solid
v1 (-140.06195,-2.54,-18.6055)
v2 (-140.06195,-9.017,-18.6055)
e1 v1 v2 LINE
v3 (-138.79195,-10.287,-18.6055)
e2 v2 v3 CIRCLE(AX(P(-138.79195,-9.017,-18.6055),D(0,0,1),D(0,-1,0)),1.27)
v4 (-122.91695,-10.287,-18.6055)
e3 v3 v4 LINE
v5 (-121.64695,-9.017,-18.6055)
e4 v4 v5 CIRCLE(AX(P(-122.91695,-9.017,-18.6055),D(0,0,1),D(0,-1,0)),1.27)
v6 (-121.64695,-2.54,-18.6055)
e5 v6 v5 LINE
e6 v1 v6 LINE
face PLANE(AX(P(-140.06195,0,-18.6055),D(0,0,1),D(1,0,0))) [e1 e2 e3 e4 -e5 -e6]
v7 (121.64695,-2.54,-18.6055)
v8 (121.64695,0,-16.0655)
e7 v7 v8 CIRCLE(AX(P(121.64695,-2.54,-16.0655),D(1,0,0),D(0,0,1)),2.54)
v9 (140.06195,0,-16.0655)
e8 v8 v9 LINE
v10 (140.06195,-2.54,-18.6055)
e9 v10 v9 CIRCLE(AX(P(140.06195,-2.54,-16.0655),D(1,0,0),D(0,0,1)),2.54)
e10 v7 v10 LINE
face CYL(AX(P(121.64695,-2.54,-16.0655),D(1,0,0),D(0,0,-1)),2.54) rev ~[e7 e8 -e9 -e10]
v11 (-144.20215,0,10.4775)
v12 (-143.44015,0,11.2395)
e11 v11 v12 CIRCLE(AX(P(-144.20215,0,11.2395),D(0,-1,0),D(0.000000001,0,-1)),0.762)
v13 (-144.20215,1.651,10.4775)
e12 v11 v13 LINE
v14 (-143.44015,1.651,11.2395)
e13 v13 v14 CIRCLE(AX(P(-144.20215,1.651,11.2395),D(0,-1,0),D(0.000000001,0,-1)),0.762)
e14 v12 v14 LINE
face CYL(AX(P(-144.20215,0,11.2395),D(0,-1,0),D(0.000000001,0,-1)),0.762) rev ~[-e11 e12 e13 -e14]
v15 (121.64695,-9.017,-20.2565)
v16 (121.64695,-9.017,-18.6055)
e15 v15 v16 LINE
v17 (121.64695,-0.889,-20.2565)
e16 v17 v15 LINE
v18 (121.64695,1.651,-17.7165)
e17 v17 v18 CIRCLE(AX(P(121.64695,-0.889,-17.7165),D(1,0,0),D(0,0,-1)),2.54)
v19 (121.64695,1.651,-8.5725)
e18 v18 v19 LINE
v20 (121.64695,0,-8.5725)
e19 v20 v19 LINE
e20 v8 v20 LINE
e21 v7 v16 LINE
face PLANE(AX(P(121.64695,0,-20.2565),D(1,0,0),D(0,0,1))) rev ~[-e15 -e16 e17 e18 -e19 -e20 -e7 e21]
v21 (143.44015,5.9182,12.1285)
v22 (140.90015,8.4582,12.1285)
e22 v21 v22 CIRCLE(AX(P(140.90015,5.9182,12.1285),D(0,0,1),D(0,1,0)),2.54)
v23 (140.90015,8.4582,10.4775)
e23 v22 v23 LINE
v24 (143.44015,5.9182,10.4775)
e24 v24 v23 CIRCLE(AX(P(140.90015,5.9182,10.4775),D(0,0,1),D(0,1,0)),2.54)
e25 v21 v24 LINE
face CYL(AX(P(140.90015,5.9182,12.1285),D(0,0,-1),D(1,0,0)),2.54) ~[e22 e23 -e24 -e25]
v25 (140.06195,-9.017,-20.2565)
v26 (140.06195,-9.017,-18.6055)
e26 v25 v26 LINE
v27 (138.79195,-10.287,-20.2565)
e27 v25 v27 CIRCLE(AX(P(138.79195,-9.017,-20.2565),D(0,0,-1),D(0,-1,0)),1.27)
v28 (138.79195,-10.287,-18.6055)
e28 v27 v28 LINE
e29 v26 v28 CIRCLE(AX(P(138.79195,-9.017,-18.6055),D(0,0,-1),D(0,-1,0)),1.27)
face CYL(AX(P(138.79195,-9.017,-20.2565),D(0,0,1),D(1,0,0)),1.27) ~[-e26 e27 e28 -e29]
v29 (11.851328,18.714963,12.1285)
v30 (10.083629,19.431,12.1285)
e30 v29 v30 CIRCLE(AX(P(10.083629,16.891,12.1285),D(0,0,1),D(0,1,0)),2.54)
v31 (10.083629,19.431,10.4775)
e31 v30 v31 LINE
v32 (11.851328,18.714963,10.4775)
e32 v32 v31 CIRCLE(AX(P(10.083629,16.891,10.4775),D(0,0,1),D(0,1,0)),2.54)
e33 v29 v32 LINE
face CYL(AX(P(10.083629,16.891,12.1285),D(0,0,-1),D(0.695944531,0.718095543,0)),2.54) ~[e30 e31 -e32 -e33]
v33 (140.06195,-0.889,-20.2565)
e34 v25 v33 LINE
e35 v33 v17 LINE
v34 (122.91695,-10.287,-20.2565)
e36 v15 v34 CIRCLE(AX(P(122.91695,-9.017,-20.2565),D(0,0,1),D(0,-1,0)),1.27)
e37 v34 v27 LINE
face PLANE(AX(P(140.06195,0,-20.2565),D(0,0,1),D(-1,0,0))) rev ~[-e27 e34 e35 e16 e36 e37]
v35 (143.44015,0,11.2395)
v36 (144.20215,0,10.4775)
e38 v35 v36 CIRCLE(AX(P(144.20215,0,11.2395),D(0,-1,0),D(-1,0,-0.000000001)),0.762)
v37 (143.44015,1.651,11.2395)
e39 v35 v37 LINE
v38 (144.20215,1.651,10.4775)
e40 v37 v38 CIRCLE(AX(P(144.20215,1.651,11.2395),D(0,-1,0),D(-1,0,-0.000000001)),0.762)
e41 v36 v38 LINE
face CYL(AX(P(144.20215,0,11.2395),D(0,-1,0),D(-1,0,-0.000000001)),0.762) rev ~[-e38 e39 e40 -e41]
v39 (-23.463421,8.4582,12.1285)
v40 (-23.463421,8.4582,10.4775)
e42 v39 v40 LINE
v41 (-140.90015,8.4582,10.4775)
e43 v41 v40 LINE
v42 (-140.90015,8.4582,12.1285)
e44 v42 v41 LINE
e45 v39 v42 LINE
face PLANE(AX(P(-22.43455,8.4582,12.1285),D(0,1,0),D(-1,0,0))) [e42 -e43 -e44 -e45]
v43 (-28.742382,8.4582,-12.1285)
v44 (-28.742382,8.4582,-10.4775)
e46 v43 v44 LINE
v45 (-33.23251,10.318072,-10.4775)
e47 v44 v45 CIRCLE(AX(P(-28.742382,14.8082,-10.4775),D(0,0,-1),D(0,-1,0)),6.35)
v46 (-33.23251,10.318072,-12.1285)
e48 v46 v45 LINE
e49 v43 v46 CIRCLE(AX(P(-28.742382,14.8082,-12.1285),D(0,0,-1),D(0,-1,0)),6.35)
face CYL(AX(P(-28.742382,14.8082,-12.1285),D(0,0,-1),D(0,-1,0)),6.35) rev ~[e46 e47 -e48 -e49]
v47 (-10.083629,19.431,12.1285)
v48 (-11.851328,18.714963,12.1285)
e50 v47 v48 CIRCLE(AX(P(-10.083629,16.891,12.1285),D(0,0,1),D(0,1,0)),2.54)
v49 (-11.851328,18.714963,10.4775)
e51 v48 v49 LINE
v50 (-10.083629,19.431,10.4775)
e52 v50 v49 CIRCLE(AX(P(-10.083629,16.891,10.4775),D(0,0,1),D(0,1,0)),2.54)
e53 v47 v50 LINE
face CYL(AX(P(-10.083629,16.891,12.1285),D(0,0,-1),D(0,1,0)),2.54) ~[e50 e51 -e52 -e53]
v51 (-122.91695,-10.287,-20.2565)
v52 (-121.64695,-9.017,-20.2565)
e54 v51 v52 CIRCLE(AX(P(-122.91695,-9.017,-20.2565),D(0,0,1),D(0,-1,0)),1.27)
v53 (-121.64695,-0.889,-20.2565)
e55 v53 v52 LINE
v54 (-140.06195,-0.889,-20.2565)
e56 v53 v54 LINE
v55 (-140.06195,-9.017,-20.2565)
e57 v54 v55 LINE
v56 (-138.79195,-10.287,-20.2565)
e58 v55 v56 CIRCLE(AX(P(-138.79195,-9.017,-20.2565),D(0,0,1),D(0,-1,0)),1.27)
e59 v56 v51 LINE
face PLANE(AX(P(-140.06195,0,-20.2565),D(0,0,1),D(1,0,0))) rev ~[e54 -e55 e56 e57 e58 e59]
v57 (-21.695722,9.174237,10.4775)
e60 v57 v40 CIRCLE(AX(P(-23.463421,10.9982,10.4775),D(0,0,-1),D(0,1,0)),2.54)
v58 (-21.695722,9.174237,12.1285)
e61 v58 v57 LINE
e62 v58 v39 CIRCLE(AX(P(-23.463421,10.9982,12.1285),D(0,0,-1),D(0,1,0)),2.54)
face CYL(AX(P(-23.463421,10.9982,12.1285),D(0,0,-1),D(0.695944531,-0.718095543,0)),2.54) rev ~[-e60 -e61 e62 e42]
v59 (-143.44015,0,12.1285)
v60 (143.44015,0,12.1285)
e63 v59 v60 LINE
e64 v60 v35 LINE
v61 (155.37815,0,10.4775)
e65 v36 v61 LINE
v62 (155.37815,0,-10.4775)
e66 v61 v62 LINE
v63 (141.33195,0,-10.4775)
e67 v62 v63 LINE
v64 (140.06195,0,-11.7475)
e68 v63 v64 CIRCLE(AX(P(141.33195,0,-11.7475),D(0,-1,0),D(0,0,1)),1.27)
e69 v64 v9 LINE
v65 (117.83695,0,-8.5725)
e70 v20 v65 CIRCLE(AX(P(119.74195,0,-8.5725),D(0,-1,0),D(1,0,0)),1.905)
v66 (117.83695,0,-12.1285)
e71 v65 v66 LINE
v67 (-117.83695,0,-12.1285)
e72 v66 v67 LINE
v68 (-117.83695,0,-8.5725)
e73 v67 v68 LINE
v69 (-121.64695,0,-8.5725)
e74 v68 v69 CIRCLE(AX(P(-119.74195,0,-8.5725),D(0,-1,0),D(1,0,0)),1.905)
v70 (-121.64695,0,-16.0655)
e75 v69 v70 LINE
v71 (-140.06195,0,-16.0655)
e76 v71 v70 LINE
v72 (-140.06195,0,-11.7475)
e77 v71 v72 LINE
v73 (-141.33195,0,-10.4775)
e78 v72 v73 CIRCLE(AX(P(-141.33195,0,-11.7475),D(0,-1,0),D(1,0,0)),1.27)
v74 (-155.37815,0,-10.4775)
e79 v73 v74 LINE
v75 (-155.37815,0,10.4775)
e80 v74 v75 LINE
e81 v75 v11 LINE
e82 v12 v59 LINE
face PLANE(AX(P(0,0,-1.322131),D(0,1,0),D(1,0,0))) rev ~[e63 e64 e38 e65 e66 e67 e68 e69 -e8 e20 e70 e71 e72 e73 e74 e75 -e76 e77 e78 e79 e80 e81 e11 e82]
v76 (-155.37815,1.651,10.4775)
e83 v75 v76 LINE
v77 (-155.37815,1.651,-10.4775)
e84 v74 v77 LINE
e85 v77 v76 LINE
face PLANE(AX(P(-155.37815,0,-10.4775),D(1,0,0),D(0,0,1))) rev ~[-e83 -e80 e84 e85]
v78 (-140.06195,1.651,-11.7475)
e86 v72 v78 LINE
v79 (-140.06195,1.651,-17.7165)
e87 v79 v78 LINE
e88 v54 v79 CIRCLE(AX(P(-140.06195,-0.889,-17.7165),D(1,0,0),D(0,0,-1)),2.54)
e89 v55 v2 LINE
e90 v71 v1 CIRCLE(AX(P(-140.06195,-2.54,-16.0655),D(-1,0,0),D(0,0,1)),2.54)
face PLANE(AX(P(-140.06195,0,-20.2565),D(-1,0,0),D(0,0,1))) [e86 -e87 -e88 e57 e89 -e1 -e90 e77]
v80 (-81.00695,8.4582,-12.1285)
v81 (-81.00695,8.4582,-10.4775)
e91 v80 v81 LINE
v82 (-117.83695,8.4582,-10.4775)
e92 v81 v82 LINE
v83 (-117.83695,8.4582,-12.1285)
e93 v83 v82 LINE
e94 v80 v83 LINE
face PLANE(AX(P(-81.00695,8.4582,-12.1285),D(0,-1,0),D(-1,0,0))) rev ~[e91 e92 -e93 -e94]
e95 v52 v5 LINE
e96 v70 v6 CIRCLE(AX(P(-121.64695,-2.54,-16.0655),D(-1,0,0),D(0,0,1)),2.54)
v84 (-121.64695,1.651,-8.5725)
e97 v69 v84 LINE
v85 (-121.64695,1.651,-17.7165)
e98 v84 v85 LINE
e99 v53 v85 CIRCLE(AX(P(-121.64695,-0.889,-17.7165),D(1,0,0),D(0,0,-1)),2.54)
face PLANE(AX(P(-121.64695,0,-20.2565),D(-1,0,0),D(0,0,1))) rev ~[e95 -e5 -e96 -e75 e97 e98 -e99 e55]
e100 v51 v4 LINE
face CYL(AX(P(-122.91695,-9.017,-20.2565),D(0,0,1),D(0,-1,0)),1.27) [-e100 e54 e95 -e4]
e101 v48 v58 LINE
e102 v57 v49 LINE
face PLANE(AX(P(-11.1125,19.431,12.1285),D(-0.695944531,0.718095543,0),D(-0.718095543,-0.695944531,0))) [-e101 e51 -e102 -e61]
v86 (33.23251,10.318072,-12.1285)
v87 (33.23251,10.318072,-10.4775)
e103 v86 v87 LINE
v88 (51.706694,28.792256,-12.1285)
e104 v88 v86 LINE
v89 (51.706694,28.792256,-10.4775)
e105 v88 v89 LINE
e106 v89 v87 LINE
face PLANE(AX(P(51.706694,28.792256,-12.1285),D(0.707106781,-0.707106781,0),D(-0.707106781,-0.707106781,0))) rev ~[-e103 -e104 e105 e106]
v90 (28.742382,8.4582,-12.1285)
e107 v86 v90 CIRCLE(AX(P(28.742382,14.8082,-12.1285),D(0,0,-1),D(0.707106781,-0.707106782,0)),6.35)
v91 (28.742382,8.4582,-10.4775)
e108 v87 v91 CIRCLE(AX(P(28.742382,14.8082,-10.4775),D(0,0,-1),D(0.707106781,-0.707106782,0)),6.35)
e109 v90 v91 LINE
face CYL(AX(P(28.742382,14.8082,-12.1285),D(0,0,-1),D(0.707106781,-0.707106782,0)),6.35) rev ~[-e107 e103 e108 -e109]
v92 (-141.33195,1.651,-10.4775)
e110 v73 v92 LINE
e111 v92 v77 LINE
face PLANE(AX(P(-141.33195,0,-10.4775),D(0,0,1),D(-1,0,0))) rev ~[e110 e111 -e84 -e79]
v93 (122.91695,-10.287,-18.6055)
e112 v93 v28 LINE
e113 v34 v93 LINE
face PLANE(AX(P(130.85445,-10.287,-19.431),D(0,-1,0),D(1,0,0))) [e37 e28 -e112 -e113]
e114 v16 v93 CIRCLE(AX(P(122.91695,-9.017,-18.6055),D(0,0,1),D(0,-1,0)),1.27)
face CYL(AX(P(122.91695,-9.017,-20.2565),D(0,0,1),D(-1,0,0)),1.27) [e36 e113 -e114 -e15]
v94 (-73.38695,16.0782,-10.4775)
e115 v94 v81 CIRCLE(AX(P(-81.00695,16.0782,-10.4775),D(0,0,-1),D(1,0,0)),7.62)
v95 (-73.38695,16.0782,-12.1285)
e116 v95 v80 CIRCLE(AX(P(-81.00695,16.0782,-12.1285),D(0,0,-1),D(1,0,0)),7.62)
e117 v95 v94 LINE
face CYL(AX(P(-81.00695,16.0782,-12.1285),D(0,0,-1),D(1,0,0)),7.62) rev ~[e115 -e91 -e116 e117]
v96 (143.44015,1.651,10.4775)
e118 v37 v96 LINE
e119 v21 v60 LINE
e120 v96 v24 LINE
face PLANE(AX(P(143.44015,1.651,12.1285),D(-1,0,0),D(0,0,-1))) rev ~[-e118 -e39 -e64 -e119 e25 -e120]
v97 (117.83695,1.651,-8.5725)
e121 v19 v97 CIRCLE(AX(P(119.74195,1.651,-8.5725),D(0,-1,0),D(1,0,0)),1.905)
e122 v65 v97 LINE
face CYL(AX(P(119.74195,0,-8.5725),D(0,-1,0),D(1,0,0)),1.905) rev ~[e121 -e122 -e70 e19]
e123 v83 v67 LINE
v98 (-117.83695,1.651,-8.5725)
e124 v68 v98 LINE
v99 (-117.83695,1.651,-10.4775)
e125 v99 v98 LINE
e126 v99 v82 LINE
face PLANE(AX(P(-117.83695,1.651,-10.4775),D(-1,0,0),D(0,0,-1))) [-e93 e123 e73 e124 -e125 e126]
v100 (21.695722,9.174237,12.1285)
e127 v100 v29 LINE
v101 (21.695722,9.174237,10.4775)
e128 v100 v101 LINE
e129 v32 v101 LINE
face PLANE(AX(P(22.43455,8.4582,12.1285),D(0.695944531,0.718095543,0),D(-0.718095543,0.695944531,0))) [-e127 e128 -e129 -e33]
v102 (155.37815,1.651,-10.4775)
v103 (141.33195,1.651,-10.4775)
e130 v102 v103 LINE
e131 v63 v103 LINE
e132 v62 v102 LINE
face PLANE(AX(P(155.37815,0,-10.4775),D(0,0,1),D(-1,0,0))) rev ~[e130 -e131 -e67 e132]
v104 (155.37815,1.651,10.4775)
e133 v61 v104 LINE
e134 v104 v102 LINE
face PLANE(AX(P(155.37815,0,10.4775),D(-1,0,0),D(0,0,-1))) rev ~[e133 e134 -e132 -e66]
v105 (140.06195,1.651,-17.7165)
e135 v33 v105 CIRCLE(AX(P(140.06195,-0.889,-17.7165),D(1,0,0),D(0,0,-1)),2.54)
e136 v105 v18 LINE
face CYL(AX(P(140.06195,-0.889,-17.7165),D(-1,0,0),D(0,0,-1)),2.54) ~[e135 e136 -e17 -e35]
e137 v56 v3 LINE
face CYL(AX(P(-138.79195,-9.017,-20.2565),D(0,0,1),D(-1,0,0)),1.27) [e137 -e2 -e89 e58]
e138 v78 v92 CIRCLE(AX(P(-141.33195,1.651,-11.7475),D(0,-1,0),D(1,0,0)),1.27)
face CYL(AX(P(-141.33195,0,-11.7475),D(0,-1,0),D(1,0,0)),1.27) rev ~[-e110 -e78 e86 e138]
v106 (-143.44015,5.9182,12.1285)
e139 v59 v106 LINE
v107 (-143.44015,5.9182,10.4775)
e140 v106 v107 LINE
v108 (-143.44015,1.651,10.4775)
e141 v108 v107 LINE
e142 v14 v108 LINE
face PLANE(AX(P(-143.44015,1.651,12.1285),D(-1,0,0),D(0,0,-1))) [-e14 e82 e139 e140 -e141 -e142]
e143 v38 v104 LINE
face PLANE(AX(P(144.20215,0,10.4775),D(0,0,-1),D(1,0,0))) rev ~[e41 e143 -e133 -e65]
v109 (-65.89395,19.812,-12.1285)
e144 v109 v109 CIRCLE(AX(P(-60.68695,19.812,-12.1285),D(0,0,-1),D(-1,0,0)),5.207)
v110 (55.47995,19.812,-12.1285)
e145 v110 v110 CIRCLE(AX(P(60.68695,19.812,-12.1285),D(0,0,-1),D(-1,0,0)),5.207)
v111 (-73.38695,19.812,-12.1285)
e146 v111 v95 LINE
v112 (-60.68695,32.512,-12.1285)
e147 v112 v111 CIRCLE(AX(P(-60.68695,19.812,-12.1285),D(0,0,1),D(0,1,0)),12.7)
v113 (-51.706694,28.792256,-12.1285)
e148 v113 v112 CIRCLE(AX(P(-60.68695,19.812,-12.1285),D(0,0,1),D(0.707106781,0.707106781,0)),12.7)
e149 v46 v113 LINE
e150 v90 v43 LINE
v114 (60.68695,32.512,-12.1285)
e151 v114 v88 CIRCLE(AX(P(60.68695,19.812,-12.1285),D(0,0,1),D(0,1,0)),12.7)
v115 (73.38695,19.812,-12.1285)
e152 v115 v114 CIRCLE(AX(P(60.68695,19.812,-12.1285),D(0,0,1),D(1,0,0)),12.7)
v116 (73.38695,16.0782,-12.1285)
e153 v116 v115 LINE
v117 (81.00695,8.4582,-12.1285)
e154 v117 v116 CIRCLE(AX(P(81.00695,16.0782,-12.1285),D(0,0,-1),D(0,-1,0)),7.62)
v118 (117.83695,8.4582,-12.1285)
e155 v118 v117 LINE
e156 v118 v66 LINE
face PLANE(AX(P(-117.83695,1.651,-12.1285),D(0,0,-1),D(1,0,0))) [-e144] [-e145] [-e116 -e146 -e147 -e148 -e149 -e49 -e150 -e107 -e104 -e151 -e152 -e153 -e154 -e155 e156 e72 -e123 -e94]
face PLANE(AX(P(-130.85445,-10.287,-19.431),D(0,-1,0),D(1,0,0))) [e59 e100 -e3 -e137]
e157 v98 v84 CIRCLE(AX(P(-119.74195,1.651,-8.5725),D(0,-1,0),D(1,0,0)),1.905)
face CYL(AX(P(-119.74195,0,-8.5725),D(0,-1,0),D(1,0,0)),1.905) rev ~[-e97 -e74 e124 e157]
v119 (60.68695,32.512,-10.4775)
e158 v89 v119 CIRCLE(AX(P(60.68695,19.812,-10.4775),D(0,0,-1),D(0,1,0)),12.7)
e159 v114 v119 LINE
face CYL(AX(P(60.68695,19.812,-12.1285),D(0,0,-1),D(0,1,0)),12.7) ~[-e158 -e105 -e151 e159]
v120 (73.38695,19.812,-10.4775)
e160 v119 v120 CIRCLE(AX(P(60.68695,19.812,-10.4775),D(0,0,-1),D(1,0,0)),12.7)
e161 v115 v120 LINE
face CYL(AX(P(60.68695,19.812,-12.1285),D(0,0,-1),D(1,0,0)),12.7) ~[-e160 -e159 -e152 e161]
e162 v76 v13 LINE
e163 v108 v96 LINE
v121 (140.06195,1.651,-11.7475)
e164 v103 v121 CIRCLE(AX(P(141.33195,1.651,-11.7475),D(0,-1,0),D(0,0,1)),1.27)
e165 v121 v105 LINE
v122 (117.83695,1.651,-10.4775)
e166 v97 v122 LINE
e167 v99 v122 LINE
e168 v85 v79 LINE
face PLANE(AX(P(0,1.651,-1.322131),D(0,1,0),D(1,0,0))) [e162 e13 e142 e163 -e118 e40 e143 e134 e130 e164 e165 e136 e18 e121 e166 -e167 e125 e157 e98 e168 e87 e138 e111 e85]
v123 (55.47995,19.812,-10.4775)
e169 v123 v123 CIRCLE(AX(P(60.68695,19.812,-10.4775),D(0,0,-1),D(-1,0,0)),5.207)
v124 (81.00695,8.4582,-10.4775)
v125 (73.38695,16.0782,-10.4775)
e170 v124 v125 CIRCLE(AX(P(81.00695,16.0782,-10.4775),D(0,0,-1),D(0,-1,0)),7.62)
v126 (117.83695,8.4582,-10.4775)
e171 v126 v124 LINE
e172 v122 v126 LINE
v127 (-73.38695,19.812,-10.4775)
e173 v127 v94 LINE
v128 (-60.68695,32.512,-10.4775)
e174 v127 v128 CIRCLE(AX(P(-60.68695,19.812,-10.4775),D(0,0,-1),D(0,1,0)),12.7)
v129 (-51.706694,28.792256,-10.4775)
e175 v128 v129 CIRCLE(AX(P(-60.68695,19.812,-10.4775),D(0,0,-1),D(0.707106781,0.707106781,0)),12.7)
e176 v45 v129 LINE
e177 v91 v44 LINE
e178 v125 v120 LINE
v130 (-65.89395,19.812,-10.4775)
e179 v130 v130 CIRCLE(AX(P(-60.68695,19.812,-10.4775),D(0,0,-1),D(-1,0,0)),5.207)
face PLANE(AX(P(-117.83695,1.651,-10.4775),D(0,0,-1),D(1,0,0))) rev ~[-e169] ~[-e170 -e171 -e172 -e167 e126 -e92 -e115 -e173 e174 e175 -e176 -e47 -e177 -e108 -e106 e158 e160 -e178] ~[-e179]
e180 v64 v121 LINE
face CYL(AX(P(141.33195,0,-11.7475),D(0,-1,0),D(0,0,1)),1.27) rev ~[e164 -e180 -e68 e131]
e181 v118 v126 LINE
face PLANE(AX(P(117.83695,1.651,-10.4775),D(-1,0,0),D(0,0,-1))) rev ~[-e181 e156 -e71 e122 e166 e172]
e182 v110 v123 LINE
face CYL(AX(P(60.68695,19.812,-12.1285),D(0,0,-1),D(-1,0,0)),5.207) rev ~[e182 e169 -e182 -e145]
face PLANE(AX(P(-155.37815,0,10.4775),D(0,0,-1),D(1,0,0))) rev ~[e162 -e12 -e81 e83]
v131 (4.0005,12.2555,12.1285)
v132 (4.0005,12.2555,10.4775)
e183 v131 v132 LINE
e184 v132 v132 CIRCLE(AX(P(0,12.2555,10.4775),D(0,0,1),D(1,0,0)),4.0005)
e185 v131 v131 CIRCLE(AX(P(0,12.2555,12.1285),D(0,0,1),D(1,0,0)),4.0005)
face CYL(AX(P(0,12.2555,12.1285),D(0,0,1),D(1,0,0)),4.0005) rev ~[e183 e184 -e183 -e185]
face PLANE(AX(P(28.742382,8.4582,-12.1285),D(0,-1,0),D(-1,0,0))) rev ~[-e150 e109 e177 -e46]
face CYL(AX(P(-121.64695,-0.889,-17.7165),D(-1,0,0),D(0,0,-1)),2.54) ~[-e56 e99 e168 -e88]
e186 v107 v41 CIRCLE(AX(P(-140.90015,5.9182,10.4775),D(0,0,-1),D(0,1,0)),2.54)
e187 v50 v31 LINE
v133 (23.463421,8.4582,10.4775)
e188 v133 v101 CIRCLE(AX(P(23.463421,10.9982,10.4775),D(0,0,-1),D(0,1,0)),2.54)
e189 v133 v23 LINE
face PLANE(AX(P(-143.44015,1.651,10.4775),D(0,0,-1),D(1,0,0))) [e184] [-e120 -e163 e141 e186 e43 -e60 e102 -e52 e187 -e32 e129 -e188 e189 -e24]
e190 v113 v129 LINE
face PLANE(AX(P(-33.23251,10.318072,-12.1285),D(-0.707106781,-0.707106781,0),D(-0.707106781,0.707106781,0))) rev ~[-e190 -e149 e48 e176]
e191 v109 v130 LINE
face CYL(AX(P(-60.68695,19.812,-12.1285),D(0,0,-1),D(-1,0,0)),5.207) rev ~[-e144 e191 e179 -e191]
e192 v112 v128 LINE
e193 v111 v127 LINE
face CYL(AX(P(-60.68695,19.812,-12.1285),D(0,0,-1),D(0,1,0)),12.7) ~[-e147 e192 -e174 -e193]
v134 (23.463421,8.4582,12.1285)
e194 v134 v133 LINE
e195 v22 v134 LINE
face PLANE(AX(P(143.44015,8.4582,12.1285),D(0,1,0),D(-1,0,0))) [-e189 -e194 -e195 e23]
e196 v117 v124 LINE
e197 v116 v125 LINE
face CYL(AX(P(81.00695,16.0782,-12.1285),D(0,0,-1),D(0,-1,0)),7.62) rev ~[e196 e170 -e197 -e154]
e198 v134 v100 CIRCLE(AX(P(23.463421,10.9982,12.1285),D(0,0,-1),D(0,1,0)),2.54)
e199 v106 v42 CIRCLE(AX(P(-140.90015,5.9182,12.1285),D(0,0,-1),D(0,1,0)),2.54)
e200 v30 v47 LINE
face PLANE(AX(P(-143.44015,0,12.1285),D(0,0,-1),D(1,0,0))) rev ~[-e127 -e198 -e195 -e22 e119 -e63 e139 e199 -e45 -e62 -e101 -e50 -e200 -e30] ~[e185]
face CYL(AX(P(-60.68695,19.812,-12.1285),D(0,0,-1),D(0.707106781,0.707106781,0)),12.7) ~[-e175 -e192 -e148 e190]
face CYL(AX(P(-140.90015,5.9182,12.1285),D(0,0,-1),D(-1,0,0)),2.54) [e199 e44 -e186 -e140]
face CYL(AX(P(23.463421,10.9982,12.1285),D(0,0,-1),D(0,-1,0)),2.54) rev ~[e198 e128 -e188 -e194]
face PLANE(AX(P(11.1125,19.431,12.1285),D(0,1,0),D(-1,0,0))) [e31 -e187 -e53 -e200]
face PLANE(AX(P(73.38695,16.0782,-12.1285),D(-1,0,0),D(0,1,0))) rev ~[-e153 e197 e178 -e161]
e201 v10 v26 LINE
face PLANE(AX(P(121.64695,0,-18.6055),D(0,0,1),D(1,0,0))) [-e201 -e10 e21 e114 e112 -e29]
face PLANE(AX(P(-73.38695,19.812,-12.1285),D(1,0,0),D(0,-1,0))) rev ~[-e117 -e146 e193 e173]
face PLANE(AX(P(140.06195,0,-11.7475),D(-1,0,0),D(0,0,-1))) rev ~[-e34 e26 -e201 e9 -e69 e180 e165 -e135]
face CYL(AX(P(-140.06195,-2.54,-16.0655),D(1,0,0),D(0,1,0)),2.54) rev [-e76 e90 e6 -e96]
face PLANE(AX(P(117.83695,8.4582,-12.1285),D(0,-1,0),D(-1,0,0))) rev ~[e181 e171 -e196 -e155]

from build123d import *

# Parameters (mm, degrees)
BOSS_EXTRUDE1_DEPTH = 1.651
SKETCH2_W           = 18.415
SKETCH2_H           = 1.651
BOSS_EXTRUDE2_DEPTH = 10.287
FILLET1_R           = 2.54
FILLET3_R           = 1.27
SKETCH4_W           = 235.6739
SKETCH4_H           = 1.651
SKETCH4_W_2         = 286.8803
BOSS_EXTRUDE3_DEPTH = 30.861
SKETCH5_R           = 4.0005
CUT_EXTRUDE2_DEPTH  = 2.54
FILLET4_R           = 2.54
SKETCH11_R          = 5.207
CUT_EXTRUDE3_DEPTH  = 7.62


with BuildPart() as part:
    # Sketch1 → Boss-Extrude1 (new body)
    with BuildSketch(Plane(origin=(0, 0, 0), x_dir=(1, 0, 0), z_dir=(0, 1, 0))):
        with BuildLine():
            Line((117.83695, 8.5725), (117.83695, 12.1285))
            Line((117.83695, 12.1285), (117.186124302, 12.1285))
            Line((117.186124302, 12.1285), (-117.186124302, 12.1285))
            Line((-117.186124302, 12.1285), (-117.83695, 12.1285))
            Line((-117.83695, 12.1285), (-117.83695, 8.5725))
            ThreePointArc((-117.83695, 8.5725), (-119.74195, 6.6675), (-121.64695, 8.5725))
            Line((-121.64695, 8.5725), (-121.64695, 12.1285))
            Line((-121.64695, 12.1285), (-121.64695, 20.2565))
            Line((-121.64695, 20.2565), (-140.06195, 20.2565))
            Line((-140.06195, 20.2565), (-140.06195, 12.1285))
            Line((-140.06195, 12.1285), (-140.06195, 11.7475))
            ThreePointArc((-140.06195, 11.7475), (-140.433924388, 10.849474388), (-141.33195, 10.4775))
            Line((-141.33195, 10.4775), (-143.44015, 10.4775))
            Line((-143.44015, 10.4775), (-155.37815, 10.4775))
            Line((-155.37815, 10.4775), (-155.37815, -10.4775))
            Line((-155.37815, -10.4775), (-144.20215, -10.4775))
            ThreePointArc((-144.20215, -10.4775), (-143.663334633, -10.700684633), (-143.44015, -11.2395))
            Line((-143.44015, -11.2395), (-143.44015, -12.1285))
            Line((-143.44015, -12.1285), (143.44015, -12.1285))
            Line((143.44015, -12.1285), (143.44015, -11.2395))
            ThreePointArc((143.44015, -11.2395), (143.663334633, -10.700684633), (144.20215, -10.4775))
            Line((144.20215, -10.4775), (155.37815, -10.4775))
            Line((155.37815, -10.4775), (155.37815, 10.4775))
            Line((155.37815, 10.4775), (143.44015, 10.4775))
            Line((143.44015, 10.4775), (141.33195, 10.4775))
            ThreePointArc((141.33195, 10.4775), (140.433924388, 10.849474388), (140.06195, 11.7475))
            Line((140.06195, 11.7475), (140.06195, 12.1285))
            Line((140.06195, 12.1285), (140.06195, 20.2565))
            Line((140.06195, 20.2565), (121.64695, 20.2565))
            Line((121.64695, 20.2565), (121.64695, 12.1285))
            Line((121.64695, 12.1285), (121.64695, 8.5725))
            ThreePointArc((121.64695, 8.5725), (119.74195, 6.6675), (117.83695, 8.5725))
        make_face()
    extrude(amount=BOSS_EXTRUDE1_DEPTH)

    # Sketch2 → Boss-Extrude2 (add)
    with BuildSketch(Plane.XZ):
        with Locations((-130.85445, -19.431)):
            Rectangle(SKETCH2_W, SKETCH2_H)
        with Locations((130.85445, -19.431)):
            Rectangle(SKETCH2_W, SKETCH2_H)
    extrude(amount=BOSS_EXTRUDE2_DEPTH)

    # Fillet1
    fillet1_edges = [part.edges().sort_by_distance(p)[0] for p in [
        (130.85445, 1.651, -20.2565),
        (-130.85445, 1.651, -20.2565),
        (-130.85445, 0, -18.6055),
        (130.85445, 0, -18.6055),
    ]]
    fillet(fillet1_edges, radius=FILLET1_R)

    # Fillet3
    fillet3_edges = [part.edges().sort_by_distance(p)[0] for p in [
        (-140.06195, -10.287, -19.431),
        (-121.64695, -10.287, -19.431),
        (140.06195, -10.287, -19.431),
        (121.64695, -10.287, -19.431),
    ]]
    fillet(fillet3_edges, radius=FILLET3_R)

    # Sketch4 → Boss-Extrude3 (add)
    with BuildSketch(Plane(origin=(0, 1.651, 0), x_dir=(1, 0, 0), z_dir=(0, 1, 0))):
        with Locations((0, 11.303)):
            Rectangle(SKETCH4_W, SKETCH4_H)
        with Locations((0, -11.303)):
            Rectangle(SKETCH4_W_2, SKETCH4_H)
    extrude(amount=BOSS_EXTRUDE3_DEPTH)

    # Sketch5 → Cut-Extrude2 (cut)
    with BuildSketch(Plane.XY.offset(12.1285)):
        with Locations((0, 12.2555)):
            Circle(SKETCH5_R)
        Polygon((143.44015, 8.4582), (22.43455, 8.4582), (11.1125, 19.431), (-11.1125, 19.431), (-22.43455, 8.4582), (-143.44015, 8.4582), (-143.44015, 32.512), (143.44015, 32.512), align=None)
    extrude(amount=-CUT_EXTRUDE2_DEPTH, mode=Mode.SUBTRACT)

    # Fillet4
    fillet4_edges = [part.edges().sort_by_distance(p)[0] for p in [
        (143.44015, 8.4582, 11.303),
        (22.43455, 8.4582, 11.303),
        (11.1125, 19.431, 11.303),
        (-11.1125, 19.431, 11.303),
        (-22.43455, 8.4582, 11.303),
        (-143.44015, 8.4582, 11.303),
    ]]
    fillet(fillet4_edges, radius=FILLET4_R)

    # Sketch11 → Cut-Extrude3 (cut)
    with BuildSketch(Plane(origin=(0, 0, -12.1285), x_dir=(-1, 0, 0), z_dir=(0, 0, -1))):
        with Locations((60.68695, 19.812)):
            Circle(SKETCH11_R)
        with Locations((-60.68695, 19.812)):
            Circle(SKETCH11_R)
        with BuildLine():
            Line((81.00695, 8.4582), (117.83695, 8.4582))
            Line((117.83695, 8.4582), (117.83695, 32.512))
            Line((117.83695, 32.512), (60.68695, 32.512))
            ThreePointArc((60.68695, 32.512), (69.667206121, 28.792256121), (73.38695, 19.812))
            Line((73.38695, 19.812), (73.38695, 16.0782))
            ThreePointArc((73.38695, 16.0782), (75.618796327, 10.690046327), (81.00695, 8.4582))
        make_face()
        with BuildLine():
            Line((-28.742381637, 8.4582), (0, 8.4582))
            Line((0, 8.4582), (28.742381637, 8.4582))
            ThreePointArc((28.742381637, 8.4582), (31.172421432, 8.941564969), (33.232509697, 10.318071939))
            Line((33.232509697, 10.318071939), (51.706693879, 28.792256121))
            ThreePointArc((51.706693879, 28.792256121), (55.826870409, 31.545270063), (60.68695, 32.512))
            Line((60.68695, 32.512), (-60.68695, 32.512))
            ThreePointArc((-60.68695, 32.512), (-55.826870409, 31.545270063), (-51.706693879, 28.792256121))
            Line((-51.706693879, 28.792256121), (-33.232509697, 10.318071939))
            ThreePointArc((-33.232509697, 10.318071939), (-31.172421432, 8.941564969), (-28.742381637, 8.4582))
        make_face()
        with BuildLine():
            Line((-117.83695, 32.512), (-117.83695, 8.4582))
            Line((-117.83695, 8.4582), (-81.00695, 8.4582))
            ThreePointArc((-81.00695, 8.4582), (-75.618796327, 10.690046327), (-73.38695, 16.0782))
            Line((-73.38695, 16.0782), (-73.38695, 19.812))
            ThreePointArc((-73.38695, 19.812), (-69.667206121, 28.792256121), (-60.68695, 32.512))
            Line((-60.68695, 32.512), (-117.83695, 32.512))
        make_face()
    extrude(amount=-CUT_EXTRUDE3_DEPTH, mode=Mode.SUBTRACT)


solid = part.part
